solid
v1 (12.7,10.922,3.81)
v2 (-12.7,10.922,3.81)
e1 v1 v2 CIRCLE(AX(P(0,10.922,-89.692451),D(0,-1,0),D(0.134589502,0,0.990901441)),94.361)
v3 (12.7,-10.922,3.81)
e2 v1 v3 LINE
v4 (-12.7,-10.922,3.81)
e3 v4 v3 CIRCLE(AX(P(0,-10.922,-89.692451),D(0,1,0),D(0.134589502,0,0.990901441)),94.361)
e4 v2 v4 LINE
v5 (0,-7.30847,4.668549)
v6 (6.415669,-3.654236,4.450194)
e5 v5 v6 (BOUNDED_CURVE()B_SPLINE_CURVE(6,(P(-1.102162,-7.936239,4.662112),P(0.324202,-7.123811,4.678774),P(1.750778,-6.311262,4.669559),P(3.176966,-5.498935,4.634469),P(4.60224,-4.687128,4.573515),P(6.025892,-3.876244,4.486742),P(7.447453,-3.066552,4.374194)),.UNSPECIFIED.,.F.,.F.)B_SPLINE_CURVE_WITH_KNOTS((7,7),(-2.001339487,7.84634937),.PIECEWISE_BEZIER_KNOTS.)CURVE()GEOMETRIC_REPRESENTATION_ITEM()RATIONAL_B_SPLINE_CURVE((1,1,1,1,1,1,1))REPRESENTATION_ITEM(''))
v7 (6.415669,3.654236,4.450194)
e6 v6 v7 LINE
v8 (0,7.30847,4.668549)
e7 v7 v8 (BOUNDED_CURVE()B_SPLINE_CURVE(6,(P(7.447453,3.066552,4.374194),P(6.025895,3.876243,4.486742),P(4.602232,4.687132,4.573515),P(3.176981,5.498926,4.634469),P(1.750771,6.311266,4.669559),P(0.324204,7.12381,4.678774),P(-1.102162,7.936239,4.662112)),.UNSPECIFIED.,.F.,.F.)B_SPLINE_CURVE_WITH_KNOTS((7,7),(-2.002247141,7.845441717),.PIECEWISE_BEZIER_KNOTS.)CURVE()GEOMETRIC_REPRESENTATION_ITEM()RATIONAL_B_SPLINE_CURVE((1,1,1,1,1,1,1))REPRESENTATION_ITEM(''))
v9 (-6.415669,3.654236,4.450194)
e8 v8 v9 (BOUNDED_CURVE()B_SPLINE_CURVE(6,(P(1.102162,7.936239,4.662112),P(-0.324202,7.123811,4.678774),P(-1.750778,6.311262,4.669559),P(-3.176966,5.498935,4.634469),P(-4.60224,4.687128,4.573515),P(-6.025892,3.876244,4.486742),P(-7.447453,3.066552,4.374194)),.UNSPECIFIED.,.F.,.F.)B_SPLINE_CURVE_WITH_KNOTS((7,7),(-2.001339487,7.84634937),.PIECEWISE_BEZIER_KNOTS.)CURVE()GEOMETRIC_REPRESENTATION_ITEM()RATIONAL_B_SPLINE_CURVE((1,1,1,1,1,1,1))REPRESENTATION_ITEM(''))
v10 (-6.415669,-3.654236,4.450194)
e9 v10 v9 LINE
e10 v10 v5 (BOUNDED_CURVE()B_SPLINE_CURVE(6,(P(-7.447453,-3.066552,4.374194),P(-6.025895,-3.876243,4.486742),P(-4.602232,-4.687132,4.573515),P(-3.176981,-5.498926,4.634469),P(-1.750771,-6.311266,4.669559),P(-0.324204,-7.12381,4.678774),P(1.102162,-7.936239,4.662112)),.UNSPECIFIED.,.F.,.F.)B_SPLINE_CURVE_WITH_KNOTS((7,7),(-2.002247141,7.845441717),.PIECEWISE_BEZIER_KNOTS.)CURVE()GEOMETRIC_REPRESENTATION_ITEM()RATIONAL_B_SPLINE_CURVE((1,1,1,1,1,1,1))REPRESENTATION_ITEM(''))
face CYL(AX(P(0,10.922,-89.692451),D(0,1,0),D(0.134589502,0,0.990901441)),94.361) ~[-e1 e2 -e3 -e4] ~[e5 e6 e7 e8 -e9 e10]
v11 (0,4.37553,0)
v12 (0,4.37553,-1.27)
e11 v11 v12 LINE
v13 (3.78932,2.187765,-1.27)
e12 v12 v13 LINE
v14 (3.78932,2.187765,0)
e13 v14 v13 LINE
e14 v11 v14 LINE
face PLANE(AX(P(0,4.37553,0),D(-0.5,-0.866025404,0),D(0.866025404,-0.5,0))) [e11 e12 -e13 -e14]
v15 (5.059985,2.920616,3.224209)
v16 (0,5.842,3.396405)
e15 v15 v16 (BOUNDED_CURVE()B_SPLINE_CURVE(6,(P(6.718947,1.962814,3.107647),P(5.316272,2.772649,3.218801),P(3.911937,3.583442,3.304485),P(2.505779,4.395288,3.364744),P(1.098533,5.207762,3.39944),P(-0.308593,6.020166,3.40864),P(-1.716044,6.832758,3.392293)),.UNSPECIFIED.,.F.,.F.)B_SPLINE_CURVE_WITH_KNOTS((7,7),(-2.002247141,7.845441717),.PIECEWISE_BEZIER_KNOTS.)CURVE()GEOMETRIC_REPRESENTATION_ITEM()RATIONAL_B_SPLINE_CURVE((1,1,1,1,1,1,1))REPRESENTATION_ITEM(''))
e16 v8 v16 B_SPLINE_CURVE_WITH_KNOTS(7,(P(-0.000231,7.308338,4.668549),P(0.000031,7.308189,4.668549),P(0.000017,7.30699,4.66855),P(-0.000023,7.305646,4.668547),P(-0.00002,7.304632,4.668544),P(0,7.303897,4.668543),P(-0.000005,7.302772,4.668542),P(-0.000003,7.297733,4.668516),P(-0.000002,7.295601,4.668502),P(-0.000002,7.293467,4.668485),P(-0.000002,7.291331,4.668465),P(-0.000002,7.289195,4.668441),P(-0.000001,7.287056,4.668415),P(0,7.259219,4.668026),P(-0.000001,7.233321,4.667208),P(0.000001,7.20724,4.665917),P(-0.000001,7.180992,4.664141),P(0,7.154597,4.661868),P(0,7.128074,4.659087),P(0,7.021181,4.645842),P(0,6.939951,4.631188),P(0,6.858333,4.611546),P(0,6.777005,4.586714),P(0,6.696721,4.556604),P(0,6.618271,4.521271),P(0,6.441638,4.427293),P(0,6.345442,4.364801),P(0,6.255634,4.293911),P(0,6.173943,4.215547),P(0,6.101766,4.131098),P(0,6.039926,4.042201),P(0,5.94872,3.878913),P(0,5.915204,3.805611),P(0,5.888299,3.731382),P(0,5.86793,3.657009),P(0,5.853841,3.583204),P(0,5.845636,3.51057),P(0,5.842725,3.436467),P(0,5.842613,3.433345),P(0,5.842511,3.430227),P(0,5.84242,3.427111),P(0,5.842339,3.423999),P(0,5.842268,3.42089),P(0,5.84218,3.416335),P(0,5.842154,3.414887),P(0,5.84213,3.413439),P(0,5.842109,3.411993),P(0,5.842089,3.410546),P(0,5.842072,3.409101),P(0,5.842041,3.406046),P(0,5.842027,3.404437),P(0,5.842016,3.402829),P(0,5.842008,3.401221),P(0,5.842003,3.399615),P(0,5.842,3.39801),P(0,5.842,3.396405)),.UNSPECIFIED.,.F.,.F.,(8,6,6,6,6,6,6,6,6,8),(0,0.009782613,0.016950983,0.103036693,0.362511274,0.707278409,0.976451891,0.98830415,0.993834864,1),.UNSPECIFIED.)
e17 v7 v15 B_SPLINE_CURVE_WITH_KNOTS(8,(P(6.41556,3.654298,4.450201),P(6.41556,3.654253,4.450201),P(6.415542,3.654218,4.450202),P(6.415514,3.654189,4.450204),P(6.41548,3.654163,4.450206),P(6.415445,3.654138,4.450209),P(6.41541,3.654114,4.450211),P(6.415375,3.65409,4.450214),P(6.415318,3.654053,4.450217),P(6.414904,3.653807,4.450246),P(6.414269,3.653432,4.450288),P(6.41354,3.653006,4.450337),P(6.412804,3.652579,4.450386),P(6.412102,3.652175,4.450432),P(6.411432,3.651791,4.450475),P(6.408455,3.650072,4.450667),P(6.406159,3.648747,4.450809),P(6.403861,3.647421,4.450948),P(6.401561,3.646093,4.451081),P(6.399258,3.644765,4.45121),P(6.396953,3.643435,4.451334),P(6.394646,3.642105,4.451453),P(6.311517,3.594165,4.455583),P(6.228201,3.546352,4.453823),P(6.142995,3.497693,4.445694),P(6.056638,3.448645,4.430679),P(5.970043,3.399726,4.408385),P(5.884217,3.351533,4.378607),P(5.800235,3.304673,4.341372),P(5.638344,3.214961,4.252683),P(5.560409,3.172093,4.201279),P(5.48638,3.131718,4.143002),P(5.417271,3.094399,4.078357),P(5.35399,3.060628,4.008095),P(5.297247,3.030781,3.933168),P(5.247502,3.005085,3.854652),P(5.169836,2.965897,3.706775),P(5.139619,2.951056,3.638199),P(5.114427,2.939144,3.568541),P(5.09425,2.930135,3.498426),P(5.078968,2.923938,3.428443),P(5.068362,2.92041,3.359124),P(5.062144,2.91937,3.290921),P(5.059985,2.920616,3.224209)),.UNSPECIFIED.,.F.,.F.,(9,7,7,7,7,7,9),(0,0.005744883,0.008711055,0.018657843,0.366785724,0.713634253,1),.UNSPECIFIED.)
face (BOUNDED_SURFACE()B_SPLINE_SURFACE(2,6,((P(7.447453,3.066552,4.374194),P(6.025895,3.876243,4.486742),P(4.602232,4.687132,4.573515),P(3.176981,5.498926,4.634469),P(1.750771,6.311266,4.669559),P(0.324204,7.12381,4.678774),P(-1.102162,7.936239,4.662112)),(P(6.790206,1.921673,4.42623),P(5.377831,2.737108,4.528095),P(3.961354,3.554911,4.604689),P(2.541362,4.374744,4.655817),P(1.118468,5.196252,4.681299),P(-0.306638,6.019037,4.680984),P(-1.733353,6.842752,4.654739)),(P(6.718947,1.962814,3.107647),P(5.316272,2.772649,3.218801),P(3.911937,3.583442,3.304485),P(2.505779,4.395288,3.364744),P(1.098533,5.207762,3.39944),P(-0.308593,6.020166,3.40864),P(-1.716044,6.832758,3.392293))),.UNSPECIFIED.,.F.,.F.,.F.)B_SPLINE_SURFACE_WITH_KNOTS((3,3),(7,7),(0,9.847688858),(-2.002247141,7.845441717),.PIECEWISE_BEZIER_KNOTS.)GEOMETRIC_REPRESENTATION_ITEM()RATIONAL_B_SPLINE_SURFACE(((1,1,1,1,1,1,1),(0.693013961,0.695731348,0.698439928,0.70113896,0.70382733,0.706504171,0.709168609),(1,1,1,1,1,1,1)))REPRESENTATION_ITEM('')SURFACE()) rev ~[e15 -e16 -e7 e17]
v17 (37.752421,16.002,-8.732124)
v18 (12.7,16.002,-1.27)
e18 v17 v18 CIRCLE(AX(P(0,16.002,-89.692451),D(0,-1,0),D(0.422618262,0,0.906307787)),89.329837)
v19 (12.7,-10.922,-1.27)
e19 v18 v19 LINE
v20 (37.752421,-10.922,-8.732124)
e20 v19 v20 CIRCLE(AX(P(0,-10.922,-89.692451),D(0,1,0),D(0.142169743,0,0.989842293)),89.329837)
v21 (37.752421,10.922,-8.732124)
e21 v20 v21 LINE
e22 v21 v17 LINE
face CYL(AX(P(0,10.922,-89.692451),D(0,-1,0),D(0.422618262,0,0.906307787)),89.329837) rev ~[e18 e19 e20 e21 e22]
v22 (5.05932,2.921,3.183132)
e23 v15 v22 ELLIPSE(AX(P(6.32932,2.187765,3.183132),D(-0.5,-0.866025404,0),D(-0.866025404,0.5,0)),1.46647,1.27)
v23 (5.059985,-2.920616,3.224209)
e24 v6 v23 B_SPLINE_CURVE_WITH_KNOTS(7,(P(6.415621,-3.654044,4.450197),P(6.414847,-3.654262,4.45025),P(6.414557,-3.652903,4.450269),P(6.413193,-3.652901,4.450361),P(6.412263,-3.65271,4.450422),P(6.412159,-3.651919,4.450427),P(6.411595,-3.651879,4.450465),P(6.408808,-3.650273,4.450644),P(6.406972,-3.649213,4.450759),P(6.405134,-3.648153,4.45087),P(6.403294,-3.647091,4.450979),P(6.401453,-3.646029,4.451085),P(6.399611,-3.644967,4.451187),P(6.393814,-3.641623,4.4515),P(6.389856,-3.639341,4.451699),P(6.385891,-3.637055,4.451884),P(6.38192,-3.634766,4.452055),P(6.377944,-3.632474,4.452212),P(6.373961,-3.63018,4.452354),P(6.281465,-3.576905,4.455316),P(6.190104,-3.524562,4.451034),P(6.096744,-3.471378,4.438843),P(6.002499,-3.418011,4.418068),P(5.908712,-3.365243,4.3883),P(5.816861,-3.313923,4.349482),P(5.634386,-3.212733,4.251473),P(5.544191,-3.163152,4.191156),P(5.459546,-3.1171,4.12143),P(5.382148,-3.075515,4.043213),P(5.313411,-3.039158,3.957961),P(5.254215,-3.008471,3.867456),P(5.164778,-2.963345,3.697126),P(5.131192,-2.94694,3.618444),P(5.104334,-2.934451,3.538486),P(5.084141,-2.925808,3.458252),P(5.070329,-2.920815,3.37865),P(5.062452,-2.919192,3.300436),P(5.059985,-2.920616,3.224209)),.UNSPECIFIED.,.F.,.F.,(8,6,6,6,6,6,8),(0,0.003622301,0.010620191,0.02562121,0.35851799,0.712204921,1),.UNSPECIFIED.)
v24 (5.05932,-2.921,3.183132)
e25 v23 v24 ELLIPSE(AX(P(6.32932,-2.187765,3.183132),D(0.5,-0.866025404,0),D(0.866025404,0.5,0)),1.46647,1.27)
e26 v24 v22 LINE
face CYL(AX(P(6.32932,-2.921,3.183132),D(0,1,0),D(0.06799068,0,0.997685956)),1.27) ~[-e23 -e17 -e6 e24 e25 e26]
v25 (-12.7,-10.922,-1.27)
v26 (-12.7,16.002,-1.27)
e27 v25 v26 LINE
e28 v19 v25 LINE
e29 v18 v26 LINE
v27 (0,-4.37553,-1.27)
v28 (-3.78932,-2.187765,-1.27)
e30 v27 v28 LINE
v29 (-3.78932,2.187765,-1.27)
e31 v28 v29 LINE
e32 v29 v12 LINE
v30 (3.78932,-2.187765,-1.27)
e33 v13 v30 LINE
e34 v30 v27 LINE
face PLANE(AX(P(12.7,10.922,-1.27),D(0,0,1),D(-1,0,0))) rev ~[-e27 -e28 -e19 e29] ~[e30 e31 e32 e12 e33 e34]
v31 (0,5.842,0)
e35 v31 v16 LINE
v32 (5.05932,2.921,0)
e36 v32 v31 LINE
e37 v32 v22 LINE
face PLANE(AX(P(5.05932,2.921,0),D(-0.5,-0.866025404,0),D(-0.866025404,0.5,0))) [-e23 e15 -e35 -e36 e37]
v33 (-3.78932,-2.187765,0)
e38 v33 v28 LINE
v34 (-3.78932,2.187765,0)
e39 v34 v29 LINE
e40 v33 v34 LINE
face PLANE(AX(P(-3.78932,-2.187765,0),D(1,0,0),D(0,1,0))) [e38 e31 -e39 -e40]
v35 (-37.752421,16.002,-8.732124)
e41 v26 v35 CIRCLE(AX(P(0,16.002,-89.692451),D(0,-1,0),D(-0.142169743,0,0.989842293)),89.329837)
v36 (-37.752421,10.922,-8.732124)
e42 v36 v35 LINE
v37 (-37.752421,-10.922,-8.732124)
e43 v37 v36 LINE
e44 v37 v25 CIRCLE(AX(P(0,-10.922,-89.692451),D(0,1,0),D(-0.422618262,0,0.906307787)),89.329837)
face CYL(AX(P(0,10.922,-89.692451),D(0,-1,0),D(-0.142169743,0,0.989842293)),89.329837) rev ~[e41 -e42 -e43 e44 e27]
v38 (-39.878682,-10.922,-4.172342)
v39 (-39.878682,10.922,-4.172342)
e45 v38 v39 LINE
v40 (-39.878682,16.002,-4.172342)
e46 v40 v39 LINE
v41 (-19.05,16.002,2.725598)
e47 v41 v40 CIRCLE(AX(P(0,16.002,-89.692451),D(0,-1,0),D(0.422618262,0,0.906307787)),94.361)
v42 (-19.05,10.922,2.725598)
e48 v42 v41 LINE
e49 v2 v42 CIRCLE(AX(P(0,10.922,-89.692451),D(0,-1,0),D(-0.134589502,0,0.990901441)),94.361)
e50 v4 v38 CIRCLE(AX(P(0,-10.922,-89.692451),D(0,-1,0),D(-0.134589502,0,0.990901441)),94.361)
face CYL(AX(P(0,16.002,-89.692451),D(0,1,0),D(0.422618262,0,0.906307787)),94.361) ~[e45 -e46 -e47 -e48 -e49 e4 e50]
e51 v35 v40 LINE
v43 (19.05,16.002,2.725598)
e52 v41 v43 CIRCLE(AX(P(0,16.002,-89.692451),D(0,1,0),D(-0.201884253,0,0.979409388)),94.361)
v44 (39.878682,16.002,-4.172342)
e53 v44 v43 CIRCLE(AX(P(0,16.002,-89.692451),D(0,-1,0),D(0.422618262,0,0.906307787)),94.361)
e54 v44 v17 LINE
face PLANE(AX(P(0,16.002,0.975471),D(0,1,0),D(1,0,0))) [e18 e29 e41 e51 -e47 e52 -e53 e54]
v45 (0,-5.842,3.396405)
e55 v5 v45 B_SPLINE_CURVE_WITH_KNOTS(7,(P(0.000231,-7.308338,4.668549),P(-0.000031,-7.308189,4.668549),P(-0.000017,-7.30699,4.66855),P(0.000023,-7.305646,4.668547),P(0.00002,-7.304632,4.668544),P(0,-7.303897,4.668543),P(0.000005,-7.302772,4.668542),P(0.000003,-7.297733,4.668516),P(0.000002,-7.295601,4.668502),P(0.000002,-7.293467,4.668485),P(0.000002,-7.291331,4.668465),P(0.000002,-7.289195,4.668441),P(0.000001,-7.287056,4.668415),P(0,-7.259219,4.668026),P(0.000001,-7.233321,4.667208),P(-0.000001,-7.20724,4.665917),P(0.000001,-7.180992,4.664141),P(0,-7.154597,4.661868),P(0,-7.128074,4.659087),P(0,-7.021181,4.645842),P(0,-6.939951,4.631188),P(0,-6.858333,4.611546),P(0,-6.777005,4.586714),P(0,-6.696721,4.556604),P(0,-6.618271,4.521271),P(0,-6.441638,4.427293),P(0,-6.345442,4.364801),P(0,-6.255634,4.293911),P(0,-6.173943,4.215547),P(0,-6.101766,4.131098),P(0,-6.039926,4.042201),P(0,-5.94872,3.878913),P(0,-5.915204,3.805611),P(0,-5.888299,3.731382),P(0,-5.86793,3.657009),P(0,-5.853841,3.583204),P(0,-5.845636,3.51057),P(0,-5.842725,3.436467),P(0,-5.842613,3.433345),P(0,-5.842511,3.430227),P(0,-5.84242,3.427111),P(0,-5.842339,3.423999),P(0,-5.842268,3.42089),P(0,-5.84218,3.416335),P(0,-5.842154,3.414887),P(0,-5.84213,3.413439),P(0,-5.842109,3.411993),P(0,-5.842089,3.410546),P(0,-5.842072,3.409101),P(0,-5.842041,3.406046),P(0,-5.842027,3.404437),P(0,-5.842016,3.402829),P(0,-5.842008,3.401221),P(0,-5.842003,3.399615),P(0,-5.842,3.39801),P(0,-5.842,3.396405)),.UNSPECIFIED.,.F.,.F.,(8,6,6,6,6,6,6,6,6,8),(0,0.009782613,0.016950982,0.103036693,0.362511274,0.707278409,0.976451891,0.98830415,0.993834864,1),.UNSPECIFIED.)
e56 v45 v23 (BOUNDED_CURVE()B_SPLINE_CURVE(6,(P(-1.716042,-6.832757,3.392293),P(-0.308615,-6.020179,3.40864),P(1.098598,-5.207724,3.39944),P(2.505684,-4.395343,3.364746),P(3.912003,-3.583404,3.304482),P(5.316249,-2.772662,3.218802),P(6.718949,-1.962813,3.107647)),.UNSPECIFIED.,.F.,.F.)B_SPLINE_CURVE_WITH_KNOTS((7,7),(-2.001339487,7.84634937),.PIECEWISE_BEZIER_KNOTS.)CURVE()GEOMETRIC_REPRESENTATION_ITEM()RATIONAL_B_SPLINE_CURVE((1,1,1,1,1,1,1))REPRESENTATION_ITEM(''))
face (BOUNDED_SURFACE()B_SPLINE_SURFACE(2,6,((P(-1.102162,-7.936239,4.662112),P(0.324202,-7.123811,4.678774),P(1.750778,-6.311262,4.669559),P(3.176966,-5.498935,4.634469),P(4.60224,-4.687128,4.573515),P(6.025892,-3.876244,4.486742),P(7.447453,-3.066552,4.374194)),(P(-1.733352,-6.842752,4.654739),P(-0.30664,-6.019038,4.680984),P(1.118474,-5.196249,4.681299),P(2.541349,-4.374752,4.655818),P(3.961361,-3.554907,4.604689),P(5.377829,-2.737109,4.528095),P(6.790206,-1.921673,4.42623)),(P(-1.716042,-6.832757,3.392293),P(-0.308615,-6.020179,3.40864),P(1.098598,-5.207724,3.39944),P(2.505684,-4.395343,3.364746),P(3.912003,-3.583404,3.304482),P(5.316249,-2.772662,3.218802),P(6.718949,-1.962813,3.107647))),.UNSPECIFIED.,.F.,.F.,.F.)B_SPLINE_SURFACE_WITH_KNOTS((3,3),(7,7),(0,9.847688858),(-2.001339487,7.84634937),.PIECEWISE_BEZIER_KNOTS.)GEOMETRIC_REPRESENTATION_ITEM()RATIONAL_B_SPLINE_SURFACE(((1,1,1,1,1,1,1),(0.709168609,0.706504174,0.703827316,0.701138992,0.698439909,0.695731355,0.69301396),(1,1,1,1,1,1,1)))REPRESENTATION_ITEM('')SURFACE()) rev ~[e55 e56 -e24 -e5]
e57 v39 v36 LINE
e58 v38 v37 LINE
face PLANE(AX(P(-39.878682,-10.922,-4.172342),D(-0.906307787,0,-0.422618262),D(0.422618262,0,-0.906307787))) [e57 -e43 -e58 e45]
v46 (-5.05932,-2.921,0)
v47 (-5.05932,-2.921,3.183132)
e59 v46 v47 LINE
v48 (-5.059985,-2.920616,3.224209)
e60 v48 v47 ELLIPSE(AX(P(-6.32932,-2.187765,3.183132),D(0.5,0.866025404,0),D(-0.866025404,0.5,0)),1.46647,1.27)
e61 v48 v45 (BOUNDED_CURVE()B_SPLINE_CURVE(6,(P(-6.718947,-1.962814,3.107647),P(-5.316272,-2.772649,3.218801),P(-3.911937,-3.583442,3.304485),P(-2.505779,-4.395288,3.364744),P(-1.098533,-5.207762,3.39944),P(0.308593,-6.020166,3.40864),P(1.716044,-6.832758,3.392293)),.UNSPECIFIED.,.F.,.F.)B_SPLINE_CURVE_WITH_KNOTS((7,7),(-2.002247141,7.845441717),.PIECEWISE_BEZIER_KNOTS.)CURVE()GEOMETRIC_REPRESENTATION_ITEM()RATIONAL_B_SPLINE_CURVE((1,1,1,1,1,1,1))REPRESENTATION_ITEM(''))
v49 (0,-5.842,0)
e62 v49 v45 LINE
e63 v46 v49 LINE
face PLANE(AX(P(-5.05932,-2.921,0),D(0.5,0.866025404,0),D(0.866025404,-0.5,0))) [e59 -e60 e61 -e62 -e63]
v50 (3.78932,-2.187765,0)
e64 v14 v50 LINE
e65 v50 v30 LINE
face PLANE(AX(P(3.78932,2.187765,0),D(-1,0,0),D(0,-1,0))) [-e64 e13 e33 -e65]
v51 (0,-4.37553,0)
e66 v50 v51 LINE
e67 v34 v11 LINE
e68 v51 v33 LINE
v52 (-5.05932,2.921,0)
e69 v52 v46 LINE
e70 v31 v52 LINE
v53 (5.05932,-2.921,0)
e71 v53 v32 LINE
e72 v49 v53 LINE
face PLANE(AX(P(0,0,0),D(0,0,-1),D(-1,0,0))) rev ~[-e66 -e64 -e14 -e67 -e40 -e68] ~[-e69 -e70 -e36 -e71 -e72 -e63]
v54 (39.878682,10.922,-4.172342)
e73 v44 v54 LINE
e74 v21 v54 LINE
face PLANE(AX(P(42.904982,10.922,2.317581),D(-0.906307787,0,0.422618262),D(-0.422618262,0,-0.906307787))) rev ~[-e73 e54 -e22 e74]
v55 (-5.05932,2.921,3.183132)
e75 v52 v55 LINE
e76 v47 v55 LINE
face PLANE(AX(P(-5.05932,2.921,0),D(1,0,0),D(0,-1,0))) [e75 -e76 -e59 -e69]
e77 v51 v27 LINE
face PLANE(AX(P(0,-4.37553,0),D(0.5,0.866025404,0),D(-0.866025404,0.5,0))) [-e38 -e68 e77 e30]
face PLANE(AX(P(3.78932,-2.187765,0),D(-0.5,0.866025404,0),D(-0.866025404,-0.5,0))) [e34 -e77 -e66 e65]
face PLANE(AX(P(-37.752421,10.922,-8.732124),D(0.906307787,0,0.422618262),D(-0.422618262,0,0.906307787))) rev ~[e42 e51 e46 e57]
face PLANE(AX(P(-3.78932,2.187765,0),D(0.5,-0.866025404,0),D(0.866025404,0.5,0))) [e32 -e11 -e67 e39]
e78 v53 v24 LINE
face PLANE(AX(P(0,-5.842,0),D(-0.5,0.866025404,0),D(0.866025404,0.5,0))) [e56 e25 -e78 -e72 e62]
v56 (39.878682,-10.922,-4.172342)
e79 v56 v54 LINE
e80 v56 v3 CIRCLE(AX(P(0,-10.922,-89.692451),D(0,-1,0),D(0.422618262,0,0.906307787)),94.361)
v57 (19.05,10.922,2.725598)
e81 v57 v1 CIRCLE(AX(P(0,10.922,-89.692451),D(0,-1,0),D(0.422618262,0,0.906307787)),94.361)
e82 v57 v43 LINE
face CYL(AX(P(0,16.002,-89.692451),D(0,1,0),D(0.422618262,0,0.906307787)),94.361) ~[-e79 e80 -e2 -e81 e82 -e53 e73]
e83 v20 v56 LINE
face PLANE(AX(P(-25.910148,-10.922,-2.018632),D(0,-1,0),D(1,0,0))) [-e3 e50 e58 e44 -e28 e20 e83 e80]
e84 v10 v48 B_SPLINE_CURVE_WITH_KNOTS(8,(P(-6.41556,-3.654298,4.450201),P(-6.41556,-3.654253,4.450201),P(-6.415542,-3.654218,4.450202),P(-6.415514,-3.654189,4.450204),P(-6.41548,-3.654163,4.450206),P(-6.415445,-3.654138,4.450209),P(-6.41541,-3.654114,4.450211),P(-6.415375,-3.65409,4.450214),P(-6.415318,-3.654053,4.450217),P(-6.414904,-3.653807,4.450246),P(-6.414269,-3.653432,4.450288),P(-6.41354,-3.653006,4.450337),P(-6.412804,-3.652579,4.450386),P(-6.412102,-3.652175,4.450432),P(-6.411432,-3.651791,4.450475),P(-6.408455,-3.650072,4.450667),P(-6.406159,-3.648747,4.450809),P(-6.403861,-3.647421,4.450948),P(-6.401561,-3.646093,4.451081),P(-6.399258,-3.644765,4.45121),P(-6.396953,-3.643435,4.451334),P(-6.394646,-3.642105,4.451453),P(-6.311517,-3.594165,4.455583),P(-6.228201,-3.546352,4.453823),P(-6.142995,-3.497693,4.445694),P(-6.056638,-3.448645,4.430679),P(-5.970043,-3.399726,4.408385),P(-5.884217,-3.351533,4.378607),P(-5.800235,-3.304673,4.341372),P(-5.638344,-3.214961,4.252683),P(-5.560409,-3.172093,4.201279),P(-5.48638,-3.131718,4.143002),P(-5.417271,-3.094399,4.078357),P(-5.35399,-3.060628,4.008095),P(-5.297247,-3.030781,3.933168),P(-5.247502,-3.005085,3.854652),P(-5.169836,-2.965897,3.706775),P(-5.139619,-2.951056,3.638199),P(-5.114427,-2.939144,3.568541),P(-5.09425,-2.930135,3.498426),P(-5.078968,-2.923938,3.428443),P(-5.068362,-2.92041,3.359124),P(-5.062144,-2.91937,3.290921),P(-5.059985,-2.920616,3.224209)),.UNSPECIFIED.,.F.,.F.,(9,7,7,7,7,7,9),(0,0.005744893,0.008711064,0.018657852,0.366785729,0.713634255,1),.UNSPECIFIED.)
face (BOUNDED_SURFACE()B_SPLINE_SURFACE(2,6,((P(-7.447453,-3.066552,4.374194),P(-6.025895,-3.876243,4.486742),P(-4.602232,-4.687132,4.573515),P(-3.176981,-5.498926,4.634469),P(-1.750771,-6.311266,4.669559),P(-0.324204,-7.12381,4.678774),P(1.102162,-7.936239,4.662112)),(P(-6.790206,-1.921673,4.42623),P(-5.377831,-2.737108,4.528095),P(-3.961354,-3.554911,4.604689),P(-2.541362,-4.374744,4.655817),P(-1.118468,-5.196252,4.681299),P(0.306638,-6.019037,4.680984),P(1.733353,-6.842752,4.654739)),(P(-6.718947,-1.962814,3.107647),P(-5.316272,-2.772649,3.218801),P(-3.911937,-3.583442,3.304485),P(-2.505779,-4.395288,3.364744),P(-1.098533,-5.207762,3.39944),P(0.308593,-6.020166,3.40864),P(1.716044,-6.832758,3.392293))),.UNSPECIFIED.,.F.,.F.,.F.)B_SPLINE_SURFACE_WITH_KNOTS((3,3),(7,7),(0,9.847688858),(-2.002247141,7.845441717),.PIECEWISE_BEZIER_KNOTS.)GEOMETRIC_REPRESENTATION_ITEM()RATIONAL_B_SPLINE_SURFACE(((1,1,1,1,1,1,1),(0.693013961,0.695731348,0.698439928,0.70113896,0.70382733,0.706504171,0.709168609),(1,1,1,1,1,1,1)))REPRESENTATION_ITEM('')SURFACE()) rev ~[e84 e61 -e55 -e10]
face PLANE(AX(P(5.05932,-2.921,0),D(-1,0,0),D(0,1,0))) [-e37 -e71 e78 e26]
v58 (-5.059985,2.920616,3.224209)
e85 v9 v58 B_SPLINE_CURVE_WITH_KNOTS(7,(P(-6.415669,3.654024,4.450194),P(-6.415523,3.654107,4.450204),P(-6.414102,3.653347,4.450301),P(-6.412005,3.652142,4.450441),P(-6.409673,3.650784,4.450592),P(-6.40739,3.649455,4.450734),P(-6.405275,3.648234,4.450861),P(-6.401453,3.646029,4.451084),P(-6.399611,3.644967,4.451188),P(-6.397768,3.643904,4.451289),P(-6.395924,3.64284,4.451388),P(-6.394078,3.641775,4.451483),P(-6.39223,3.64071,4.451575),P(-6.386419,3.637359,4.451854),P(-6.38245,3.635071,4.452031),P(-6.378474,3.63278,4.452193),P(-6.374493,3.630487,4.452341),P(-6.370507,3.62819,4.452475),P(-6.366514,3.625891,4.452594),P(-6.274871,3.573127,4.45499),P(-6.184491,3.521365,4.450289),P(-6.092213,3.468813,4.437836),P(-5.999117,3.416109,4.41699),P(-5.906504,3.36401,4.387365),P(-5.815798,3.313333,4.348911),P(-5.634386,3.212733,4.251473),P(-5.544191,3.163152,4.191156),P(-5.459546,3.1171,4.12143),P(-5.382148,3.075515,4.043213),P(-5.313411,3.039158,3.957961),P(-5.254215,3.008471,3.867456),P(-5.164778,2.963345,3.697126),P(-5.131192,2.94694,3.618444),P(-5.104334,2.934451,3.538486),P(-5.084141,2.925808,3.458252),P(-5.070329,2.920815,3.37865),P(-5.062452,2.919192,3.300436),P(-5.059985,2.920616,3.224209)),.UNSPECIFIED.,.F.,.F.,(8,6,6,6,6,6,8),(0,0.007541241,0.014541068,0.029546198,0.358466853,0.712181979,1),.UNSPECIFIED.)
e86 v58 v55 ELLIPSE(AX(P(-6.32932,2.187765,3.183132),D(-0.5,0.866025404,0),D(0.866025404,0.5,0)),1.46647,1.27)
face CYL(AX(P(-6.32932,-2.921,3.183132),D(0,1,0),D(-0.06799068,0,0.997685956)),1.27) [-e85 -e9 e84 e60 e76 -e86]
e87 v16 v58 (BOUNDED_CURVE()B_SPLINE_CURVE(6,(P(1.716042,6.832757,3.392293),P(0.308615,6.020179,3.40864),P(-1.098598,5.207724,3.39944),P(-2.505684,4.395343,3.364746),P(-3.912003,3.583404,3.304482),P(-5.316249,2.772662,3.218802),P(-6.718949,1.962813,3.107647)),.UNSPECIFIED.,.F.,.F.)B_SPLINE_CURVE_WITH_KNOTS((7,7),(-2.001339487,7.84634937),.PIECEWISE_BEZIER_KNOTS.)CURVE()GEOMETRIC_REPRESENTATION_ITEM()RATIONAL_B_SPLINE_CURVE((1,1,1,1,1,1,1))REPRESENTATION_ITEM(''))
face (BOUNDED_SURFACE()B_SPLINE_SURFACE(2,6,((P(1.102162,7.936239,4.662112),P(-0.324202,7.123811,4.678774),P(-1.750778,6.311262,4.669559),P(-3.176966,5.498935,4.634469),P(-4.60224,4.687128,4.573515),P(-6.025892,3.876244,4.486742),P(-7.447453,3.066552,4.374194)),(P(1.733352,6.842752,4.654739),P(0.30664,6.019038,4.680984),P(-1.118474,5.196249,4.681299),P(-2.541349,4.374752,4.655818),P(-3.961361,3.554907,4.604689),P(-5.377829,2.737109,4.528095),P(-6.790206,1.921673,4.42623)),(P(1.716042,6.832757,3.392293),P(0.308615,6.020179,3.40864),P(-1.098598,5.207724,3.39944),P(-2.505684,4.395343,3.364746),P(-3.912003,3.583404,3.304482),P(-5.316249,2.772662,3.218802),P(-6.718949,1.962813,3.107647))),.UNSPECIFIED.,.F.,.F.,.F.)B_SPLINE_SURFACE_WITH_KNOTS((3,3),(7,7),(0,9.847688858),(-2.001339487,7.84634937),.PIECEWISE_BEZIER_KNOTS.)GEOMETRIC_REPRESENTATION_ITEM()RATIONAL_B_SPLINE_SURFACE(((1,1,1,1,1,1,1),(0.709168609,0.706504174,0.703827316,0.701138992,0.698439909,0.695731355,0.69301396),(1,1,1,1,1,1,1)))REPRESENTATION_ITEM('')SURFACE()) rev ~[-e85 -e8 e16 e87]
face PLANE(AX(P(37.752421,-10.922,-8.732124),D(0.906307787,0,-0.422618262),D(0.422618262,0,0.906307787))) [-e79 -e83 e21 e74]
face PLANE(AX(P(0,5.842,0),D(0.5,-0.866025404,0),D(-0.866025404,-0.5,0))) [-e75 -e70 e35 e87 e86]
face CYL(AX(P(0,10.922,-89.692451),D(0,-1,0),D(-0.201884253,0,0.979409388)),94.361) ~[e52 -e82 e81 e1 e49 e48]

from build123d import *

# Parameters (mm, degrees)
SKETCH1_W                    = 25.4
SKETCH1_H                    = 21.844
BOLT_SIZE_WIDTH_HEIGHT_DEPTH = 7.62
FRONT_CURVE_DEPTH            = 22.844
SKETCH3_W                    = 25.4
SKETCH3_H                    = 21.844
REAR_CAP_DEPTH               = 1.27
WINGS_DEPTH                  = 21.844
HOOK_DEPTH_DEPTH             = 5.08
HOOK_HEIGHT_DEPTH            = 3.81
NUT_FLANGE_CLEARANCE_R       = 1.27
DECORATION_SIZE              = 2.54
CUT_EXTRUDE1_DEPTH           = 27.9240001


with BuildPart() as part:
    # Sketch1 → Bolt Size, Width, &Height (new body)
    with BuildSketch(Plane.XY):
        Rectangle(SKETCH1_W, SKETCH1_H)
        Polygon((0, 5.842), (-5.059320409, 2.921), (-5.059320409, -2.921), (0, -5.842), (5.059320409, -2.921), (5.059320409, 2.921), align=None, mode=Mode.SUBTRACT)
    extrude(amount=BOLT_SIZE_WIDTH_HEIGHT_DEPTH)

    # Sketch2 → Front Curve (cut, through all)
    with BuildSketch(Plane(origin=(0, 10.922, 0), x_dir=(1, 0, 0), z_dir=(0, 1, 0))):
        with BuildLine():
            Line((12.7, -7.62), (12.7, -3.81))
            ThreePointArc((12.7, -3.81), (0, -4.668549118), (-12.7, -3.81))
            Line((-12.7, -3.81), (-12.7, -7.62))
            Line((-12.7, -7.62), (12.7, -7.62))
        make_face()
    extrude(amount=-FRONT_CURVE_DEPTH, mode=Mode.SUBTRACT)

    # Sketch3 → Rear Cap (add)
    with BuildSketch(Plane(origin=(0, 0, 0), x_dir=(-1, 0, 0), z_dir=(0, 0, -1))):
        Rectangle(SKETCH3_W, SKETCH3_H)
        Polygon((-3.789320409, 2.187765158), (-3.789320409, -2.187765158), (0, -4.375530316), (3.789320409, -2.187765158), (3.789320409, 2.187765158), (0, 4.375530316), align=None, mode=Mode.SUBTRACT)
    extrude(amount=REAR_CAP_DEPTH)

    # Sketch6 → Wings (add)
    with BuildSketch(Plane.XZ.offset(10.922)):
        with BuildLine():
            ThreePointArc((-12.7, 3.81), (-26.59057897, 0.844499757), (-39.878681796, -4.17234179))
            Line((-39.878681796, -4.17234179), (-37.752420533, -8.732123784))
            ThreePointArc((-37.752420533, -8.732123784), (-25.500637389, -4.079733878), (-12.7, -1.27))
            Line((-12.7, -1.27), (-12.7, 3.81))
        make_face()
        with BuildLine():
            ThreePointArc((39.878681796, -4.17234179), (26.59057897, 0.844499757), (12.7, 3.81))
            Line((12.7, 3.81), (12.7, -1.27))
            ThreePointArc((12.7, -1.27), (25.500637389, -4.079733878), (37.752420533, -8.732123784))
            Line((37.752420533, -8.732123784), (39.878681796, -4.17234179))
        make_face()
    extrude(amount=-WINGS_DEPTH)

    # Sketch7 → Hook Depth (add)
    with BuildSketch(Plane(origin=(0, 10.922, 0), x_dir=(1, 0, 0), z_dir=(0, 1, 0))):
        with BuildLine():
            Line((12.7, 1.27), (-12.7, 1.27))
            ThreePointArc((-12.7, 1.27), (-25.500637389, 4.079733878), (-37.752420533, 8.732123784))
            Line((-37.752420533, 8.732123784), (-42.90498238, -2.317580756))
            ThreePointArc((-42.90498238, -2.317580756), (-31.916762044, -6.681838924), (-20.495660276, -9.738989543))
            Line((-20.495660276, -9.738989543), (-19.05, -2.725598334))
            ThreePointArc((-19.05, -2.725598334), (0, -4.668549118), (19.05, -2.725598334))
            Line((19.05, -2.725598334), (20.495660276, -9.738989543))
            ThreePointArc((20.495660276, -9.738989543), (31.916762044, -6.681838924), (42.90498238, -2.317580756))
            Line((42.90498238, -2.317580756), (37.752420533, 8.732123784))
            ThreePointArc((37.752420533, 8.732123784), (25.500637389, 4.079733878), (12.7, 1.27))
        make_face()
    extrude(amount=HOOK_DEPTH_DEPTH)

    # Sketch8 → Hook Height (add)
    with BuildSketch(Plane.XZ.offset(-10.922)):
        with BuildLine():
            ThreePointArc((-20.495660276, 9.738989543), (-31.916762044, 6.681838924), (-42.90498238, 2.317580756))
            Line((-42.90498238, 2.317580756), (-41.831531995, 0.015558977))
            ThreePointArc((-41.831531995, 0.015558977), (-31.118228667, 4.270626689), (-19.982874273, 7.251289698))
            Line((-19.982874273, 7.251289698), (-20.495660276, 9.738989543))
        make_face()
        with BuildLine():
            Line((41.831531995, 0.015558977), (42.90498238, 2.317580756))
            ThreePointArc((42.90498238, 2.317580756), (31.916762044, 6.681838924), (20.495660276, 9.738989543))
            Line((20.495660276, 9.738989543), (19.982874273, 7.251289698))
            ThreePointArc((19.982874273, 7.251289698), (31.118228667, 4.270626689), (41.831531995, 0.015558977))
        make_face()
    extrude(amount=HOOK_HEIGHT_DEPTH)

    # Nut Flange Clearance
    nut_flange_clearance_edges = [part.edges().sort_by_distance(p)[0] for p in [
        (5.059320409, 0, 4.532819603),
        (2.530342979, 4.3811058, 4.634616736),
        (-2.530342979, 4.3811058, 4.634616736),
        (-5.059320409, 0, 4.532819603),
        (-2.530342979, -4.3811058, 4.634616736),
        (2.530342979, -4.3811058, 4.634616736),
    ]]
    fillet(nut_flange_clearance_edges, radius=NUT_FLANGE_CLEARANCE_R)

    # Decoration
    decoration_edges = [part.edges().sort_by_distance(p)[0] for p in [
        (-42.368257188, 7.112, 1.166569866),
        (-20.239267274, 7.112, 8.49513962),
        (42.368257188, 7.112, 1.166569866),
        (20.239267274, 7.112, 8.49513962),
    ]]
    chamfer(decoration_edges, length=DECORATION_SIZE)

    # Sketch9 → Cut-Extrude1 (cut, through all)
    with BuildSketch(Plane(origin=(0, 16.002, 0), x_dir=(1, 0, 0), z_dir=(0, 1, 0))):
        with BuildLine():
            Line((42.90498238, -2.317580756), (39.878681796, 4.17234179))
            ThreePointArc((39.878681796, 4.17234179), (0, -4.668549118), (-39.878681796, 4.17234179))
            Line((-39.878681796, 4.17234179), (-42.90498238, -2.317580756))
            ThreePointArc((-42.90498238, -2.317580756), (0, -11.82938635), (42.90498238, -2.317580756))
        make_face()
    extrude(amount=-CUT_EXTRUDE1_DEPTH, mode=Mode.SUBTRACT)


solid = part.part
